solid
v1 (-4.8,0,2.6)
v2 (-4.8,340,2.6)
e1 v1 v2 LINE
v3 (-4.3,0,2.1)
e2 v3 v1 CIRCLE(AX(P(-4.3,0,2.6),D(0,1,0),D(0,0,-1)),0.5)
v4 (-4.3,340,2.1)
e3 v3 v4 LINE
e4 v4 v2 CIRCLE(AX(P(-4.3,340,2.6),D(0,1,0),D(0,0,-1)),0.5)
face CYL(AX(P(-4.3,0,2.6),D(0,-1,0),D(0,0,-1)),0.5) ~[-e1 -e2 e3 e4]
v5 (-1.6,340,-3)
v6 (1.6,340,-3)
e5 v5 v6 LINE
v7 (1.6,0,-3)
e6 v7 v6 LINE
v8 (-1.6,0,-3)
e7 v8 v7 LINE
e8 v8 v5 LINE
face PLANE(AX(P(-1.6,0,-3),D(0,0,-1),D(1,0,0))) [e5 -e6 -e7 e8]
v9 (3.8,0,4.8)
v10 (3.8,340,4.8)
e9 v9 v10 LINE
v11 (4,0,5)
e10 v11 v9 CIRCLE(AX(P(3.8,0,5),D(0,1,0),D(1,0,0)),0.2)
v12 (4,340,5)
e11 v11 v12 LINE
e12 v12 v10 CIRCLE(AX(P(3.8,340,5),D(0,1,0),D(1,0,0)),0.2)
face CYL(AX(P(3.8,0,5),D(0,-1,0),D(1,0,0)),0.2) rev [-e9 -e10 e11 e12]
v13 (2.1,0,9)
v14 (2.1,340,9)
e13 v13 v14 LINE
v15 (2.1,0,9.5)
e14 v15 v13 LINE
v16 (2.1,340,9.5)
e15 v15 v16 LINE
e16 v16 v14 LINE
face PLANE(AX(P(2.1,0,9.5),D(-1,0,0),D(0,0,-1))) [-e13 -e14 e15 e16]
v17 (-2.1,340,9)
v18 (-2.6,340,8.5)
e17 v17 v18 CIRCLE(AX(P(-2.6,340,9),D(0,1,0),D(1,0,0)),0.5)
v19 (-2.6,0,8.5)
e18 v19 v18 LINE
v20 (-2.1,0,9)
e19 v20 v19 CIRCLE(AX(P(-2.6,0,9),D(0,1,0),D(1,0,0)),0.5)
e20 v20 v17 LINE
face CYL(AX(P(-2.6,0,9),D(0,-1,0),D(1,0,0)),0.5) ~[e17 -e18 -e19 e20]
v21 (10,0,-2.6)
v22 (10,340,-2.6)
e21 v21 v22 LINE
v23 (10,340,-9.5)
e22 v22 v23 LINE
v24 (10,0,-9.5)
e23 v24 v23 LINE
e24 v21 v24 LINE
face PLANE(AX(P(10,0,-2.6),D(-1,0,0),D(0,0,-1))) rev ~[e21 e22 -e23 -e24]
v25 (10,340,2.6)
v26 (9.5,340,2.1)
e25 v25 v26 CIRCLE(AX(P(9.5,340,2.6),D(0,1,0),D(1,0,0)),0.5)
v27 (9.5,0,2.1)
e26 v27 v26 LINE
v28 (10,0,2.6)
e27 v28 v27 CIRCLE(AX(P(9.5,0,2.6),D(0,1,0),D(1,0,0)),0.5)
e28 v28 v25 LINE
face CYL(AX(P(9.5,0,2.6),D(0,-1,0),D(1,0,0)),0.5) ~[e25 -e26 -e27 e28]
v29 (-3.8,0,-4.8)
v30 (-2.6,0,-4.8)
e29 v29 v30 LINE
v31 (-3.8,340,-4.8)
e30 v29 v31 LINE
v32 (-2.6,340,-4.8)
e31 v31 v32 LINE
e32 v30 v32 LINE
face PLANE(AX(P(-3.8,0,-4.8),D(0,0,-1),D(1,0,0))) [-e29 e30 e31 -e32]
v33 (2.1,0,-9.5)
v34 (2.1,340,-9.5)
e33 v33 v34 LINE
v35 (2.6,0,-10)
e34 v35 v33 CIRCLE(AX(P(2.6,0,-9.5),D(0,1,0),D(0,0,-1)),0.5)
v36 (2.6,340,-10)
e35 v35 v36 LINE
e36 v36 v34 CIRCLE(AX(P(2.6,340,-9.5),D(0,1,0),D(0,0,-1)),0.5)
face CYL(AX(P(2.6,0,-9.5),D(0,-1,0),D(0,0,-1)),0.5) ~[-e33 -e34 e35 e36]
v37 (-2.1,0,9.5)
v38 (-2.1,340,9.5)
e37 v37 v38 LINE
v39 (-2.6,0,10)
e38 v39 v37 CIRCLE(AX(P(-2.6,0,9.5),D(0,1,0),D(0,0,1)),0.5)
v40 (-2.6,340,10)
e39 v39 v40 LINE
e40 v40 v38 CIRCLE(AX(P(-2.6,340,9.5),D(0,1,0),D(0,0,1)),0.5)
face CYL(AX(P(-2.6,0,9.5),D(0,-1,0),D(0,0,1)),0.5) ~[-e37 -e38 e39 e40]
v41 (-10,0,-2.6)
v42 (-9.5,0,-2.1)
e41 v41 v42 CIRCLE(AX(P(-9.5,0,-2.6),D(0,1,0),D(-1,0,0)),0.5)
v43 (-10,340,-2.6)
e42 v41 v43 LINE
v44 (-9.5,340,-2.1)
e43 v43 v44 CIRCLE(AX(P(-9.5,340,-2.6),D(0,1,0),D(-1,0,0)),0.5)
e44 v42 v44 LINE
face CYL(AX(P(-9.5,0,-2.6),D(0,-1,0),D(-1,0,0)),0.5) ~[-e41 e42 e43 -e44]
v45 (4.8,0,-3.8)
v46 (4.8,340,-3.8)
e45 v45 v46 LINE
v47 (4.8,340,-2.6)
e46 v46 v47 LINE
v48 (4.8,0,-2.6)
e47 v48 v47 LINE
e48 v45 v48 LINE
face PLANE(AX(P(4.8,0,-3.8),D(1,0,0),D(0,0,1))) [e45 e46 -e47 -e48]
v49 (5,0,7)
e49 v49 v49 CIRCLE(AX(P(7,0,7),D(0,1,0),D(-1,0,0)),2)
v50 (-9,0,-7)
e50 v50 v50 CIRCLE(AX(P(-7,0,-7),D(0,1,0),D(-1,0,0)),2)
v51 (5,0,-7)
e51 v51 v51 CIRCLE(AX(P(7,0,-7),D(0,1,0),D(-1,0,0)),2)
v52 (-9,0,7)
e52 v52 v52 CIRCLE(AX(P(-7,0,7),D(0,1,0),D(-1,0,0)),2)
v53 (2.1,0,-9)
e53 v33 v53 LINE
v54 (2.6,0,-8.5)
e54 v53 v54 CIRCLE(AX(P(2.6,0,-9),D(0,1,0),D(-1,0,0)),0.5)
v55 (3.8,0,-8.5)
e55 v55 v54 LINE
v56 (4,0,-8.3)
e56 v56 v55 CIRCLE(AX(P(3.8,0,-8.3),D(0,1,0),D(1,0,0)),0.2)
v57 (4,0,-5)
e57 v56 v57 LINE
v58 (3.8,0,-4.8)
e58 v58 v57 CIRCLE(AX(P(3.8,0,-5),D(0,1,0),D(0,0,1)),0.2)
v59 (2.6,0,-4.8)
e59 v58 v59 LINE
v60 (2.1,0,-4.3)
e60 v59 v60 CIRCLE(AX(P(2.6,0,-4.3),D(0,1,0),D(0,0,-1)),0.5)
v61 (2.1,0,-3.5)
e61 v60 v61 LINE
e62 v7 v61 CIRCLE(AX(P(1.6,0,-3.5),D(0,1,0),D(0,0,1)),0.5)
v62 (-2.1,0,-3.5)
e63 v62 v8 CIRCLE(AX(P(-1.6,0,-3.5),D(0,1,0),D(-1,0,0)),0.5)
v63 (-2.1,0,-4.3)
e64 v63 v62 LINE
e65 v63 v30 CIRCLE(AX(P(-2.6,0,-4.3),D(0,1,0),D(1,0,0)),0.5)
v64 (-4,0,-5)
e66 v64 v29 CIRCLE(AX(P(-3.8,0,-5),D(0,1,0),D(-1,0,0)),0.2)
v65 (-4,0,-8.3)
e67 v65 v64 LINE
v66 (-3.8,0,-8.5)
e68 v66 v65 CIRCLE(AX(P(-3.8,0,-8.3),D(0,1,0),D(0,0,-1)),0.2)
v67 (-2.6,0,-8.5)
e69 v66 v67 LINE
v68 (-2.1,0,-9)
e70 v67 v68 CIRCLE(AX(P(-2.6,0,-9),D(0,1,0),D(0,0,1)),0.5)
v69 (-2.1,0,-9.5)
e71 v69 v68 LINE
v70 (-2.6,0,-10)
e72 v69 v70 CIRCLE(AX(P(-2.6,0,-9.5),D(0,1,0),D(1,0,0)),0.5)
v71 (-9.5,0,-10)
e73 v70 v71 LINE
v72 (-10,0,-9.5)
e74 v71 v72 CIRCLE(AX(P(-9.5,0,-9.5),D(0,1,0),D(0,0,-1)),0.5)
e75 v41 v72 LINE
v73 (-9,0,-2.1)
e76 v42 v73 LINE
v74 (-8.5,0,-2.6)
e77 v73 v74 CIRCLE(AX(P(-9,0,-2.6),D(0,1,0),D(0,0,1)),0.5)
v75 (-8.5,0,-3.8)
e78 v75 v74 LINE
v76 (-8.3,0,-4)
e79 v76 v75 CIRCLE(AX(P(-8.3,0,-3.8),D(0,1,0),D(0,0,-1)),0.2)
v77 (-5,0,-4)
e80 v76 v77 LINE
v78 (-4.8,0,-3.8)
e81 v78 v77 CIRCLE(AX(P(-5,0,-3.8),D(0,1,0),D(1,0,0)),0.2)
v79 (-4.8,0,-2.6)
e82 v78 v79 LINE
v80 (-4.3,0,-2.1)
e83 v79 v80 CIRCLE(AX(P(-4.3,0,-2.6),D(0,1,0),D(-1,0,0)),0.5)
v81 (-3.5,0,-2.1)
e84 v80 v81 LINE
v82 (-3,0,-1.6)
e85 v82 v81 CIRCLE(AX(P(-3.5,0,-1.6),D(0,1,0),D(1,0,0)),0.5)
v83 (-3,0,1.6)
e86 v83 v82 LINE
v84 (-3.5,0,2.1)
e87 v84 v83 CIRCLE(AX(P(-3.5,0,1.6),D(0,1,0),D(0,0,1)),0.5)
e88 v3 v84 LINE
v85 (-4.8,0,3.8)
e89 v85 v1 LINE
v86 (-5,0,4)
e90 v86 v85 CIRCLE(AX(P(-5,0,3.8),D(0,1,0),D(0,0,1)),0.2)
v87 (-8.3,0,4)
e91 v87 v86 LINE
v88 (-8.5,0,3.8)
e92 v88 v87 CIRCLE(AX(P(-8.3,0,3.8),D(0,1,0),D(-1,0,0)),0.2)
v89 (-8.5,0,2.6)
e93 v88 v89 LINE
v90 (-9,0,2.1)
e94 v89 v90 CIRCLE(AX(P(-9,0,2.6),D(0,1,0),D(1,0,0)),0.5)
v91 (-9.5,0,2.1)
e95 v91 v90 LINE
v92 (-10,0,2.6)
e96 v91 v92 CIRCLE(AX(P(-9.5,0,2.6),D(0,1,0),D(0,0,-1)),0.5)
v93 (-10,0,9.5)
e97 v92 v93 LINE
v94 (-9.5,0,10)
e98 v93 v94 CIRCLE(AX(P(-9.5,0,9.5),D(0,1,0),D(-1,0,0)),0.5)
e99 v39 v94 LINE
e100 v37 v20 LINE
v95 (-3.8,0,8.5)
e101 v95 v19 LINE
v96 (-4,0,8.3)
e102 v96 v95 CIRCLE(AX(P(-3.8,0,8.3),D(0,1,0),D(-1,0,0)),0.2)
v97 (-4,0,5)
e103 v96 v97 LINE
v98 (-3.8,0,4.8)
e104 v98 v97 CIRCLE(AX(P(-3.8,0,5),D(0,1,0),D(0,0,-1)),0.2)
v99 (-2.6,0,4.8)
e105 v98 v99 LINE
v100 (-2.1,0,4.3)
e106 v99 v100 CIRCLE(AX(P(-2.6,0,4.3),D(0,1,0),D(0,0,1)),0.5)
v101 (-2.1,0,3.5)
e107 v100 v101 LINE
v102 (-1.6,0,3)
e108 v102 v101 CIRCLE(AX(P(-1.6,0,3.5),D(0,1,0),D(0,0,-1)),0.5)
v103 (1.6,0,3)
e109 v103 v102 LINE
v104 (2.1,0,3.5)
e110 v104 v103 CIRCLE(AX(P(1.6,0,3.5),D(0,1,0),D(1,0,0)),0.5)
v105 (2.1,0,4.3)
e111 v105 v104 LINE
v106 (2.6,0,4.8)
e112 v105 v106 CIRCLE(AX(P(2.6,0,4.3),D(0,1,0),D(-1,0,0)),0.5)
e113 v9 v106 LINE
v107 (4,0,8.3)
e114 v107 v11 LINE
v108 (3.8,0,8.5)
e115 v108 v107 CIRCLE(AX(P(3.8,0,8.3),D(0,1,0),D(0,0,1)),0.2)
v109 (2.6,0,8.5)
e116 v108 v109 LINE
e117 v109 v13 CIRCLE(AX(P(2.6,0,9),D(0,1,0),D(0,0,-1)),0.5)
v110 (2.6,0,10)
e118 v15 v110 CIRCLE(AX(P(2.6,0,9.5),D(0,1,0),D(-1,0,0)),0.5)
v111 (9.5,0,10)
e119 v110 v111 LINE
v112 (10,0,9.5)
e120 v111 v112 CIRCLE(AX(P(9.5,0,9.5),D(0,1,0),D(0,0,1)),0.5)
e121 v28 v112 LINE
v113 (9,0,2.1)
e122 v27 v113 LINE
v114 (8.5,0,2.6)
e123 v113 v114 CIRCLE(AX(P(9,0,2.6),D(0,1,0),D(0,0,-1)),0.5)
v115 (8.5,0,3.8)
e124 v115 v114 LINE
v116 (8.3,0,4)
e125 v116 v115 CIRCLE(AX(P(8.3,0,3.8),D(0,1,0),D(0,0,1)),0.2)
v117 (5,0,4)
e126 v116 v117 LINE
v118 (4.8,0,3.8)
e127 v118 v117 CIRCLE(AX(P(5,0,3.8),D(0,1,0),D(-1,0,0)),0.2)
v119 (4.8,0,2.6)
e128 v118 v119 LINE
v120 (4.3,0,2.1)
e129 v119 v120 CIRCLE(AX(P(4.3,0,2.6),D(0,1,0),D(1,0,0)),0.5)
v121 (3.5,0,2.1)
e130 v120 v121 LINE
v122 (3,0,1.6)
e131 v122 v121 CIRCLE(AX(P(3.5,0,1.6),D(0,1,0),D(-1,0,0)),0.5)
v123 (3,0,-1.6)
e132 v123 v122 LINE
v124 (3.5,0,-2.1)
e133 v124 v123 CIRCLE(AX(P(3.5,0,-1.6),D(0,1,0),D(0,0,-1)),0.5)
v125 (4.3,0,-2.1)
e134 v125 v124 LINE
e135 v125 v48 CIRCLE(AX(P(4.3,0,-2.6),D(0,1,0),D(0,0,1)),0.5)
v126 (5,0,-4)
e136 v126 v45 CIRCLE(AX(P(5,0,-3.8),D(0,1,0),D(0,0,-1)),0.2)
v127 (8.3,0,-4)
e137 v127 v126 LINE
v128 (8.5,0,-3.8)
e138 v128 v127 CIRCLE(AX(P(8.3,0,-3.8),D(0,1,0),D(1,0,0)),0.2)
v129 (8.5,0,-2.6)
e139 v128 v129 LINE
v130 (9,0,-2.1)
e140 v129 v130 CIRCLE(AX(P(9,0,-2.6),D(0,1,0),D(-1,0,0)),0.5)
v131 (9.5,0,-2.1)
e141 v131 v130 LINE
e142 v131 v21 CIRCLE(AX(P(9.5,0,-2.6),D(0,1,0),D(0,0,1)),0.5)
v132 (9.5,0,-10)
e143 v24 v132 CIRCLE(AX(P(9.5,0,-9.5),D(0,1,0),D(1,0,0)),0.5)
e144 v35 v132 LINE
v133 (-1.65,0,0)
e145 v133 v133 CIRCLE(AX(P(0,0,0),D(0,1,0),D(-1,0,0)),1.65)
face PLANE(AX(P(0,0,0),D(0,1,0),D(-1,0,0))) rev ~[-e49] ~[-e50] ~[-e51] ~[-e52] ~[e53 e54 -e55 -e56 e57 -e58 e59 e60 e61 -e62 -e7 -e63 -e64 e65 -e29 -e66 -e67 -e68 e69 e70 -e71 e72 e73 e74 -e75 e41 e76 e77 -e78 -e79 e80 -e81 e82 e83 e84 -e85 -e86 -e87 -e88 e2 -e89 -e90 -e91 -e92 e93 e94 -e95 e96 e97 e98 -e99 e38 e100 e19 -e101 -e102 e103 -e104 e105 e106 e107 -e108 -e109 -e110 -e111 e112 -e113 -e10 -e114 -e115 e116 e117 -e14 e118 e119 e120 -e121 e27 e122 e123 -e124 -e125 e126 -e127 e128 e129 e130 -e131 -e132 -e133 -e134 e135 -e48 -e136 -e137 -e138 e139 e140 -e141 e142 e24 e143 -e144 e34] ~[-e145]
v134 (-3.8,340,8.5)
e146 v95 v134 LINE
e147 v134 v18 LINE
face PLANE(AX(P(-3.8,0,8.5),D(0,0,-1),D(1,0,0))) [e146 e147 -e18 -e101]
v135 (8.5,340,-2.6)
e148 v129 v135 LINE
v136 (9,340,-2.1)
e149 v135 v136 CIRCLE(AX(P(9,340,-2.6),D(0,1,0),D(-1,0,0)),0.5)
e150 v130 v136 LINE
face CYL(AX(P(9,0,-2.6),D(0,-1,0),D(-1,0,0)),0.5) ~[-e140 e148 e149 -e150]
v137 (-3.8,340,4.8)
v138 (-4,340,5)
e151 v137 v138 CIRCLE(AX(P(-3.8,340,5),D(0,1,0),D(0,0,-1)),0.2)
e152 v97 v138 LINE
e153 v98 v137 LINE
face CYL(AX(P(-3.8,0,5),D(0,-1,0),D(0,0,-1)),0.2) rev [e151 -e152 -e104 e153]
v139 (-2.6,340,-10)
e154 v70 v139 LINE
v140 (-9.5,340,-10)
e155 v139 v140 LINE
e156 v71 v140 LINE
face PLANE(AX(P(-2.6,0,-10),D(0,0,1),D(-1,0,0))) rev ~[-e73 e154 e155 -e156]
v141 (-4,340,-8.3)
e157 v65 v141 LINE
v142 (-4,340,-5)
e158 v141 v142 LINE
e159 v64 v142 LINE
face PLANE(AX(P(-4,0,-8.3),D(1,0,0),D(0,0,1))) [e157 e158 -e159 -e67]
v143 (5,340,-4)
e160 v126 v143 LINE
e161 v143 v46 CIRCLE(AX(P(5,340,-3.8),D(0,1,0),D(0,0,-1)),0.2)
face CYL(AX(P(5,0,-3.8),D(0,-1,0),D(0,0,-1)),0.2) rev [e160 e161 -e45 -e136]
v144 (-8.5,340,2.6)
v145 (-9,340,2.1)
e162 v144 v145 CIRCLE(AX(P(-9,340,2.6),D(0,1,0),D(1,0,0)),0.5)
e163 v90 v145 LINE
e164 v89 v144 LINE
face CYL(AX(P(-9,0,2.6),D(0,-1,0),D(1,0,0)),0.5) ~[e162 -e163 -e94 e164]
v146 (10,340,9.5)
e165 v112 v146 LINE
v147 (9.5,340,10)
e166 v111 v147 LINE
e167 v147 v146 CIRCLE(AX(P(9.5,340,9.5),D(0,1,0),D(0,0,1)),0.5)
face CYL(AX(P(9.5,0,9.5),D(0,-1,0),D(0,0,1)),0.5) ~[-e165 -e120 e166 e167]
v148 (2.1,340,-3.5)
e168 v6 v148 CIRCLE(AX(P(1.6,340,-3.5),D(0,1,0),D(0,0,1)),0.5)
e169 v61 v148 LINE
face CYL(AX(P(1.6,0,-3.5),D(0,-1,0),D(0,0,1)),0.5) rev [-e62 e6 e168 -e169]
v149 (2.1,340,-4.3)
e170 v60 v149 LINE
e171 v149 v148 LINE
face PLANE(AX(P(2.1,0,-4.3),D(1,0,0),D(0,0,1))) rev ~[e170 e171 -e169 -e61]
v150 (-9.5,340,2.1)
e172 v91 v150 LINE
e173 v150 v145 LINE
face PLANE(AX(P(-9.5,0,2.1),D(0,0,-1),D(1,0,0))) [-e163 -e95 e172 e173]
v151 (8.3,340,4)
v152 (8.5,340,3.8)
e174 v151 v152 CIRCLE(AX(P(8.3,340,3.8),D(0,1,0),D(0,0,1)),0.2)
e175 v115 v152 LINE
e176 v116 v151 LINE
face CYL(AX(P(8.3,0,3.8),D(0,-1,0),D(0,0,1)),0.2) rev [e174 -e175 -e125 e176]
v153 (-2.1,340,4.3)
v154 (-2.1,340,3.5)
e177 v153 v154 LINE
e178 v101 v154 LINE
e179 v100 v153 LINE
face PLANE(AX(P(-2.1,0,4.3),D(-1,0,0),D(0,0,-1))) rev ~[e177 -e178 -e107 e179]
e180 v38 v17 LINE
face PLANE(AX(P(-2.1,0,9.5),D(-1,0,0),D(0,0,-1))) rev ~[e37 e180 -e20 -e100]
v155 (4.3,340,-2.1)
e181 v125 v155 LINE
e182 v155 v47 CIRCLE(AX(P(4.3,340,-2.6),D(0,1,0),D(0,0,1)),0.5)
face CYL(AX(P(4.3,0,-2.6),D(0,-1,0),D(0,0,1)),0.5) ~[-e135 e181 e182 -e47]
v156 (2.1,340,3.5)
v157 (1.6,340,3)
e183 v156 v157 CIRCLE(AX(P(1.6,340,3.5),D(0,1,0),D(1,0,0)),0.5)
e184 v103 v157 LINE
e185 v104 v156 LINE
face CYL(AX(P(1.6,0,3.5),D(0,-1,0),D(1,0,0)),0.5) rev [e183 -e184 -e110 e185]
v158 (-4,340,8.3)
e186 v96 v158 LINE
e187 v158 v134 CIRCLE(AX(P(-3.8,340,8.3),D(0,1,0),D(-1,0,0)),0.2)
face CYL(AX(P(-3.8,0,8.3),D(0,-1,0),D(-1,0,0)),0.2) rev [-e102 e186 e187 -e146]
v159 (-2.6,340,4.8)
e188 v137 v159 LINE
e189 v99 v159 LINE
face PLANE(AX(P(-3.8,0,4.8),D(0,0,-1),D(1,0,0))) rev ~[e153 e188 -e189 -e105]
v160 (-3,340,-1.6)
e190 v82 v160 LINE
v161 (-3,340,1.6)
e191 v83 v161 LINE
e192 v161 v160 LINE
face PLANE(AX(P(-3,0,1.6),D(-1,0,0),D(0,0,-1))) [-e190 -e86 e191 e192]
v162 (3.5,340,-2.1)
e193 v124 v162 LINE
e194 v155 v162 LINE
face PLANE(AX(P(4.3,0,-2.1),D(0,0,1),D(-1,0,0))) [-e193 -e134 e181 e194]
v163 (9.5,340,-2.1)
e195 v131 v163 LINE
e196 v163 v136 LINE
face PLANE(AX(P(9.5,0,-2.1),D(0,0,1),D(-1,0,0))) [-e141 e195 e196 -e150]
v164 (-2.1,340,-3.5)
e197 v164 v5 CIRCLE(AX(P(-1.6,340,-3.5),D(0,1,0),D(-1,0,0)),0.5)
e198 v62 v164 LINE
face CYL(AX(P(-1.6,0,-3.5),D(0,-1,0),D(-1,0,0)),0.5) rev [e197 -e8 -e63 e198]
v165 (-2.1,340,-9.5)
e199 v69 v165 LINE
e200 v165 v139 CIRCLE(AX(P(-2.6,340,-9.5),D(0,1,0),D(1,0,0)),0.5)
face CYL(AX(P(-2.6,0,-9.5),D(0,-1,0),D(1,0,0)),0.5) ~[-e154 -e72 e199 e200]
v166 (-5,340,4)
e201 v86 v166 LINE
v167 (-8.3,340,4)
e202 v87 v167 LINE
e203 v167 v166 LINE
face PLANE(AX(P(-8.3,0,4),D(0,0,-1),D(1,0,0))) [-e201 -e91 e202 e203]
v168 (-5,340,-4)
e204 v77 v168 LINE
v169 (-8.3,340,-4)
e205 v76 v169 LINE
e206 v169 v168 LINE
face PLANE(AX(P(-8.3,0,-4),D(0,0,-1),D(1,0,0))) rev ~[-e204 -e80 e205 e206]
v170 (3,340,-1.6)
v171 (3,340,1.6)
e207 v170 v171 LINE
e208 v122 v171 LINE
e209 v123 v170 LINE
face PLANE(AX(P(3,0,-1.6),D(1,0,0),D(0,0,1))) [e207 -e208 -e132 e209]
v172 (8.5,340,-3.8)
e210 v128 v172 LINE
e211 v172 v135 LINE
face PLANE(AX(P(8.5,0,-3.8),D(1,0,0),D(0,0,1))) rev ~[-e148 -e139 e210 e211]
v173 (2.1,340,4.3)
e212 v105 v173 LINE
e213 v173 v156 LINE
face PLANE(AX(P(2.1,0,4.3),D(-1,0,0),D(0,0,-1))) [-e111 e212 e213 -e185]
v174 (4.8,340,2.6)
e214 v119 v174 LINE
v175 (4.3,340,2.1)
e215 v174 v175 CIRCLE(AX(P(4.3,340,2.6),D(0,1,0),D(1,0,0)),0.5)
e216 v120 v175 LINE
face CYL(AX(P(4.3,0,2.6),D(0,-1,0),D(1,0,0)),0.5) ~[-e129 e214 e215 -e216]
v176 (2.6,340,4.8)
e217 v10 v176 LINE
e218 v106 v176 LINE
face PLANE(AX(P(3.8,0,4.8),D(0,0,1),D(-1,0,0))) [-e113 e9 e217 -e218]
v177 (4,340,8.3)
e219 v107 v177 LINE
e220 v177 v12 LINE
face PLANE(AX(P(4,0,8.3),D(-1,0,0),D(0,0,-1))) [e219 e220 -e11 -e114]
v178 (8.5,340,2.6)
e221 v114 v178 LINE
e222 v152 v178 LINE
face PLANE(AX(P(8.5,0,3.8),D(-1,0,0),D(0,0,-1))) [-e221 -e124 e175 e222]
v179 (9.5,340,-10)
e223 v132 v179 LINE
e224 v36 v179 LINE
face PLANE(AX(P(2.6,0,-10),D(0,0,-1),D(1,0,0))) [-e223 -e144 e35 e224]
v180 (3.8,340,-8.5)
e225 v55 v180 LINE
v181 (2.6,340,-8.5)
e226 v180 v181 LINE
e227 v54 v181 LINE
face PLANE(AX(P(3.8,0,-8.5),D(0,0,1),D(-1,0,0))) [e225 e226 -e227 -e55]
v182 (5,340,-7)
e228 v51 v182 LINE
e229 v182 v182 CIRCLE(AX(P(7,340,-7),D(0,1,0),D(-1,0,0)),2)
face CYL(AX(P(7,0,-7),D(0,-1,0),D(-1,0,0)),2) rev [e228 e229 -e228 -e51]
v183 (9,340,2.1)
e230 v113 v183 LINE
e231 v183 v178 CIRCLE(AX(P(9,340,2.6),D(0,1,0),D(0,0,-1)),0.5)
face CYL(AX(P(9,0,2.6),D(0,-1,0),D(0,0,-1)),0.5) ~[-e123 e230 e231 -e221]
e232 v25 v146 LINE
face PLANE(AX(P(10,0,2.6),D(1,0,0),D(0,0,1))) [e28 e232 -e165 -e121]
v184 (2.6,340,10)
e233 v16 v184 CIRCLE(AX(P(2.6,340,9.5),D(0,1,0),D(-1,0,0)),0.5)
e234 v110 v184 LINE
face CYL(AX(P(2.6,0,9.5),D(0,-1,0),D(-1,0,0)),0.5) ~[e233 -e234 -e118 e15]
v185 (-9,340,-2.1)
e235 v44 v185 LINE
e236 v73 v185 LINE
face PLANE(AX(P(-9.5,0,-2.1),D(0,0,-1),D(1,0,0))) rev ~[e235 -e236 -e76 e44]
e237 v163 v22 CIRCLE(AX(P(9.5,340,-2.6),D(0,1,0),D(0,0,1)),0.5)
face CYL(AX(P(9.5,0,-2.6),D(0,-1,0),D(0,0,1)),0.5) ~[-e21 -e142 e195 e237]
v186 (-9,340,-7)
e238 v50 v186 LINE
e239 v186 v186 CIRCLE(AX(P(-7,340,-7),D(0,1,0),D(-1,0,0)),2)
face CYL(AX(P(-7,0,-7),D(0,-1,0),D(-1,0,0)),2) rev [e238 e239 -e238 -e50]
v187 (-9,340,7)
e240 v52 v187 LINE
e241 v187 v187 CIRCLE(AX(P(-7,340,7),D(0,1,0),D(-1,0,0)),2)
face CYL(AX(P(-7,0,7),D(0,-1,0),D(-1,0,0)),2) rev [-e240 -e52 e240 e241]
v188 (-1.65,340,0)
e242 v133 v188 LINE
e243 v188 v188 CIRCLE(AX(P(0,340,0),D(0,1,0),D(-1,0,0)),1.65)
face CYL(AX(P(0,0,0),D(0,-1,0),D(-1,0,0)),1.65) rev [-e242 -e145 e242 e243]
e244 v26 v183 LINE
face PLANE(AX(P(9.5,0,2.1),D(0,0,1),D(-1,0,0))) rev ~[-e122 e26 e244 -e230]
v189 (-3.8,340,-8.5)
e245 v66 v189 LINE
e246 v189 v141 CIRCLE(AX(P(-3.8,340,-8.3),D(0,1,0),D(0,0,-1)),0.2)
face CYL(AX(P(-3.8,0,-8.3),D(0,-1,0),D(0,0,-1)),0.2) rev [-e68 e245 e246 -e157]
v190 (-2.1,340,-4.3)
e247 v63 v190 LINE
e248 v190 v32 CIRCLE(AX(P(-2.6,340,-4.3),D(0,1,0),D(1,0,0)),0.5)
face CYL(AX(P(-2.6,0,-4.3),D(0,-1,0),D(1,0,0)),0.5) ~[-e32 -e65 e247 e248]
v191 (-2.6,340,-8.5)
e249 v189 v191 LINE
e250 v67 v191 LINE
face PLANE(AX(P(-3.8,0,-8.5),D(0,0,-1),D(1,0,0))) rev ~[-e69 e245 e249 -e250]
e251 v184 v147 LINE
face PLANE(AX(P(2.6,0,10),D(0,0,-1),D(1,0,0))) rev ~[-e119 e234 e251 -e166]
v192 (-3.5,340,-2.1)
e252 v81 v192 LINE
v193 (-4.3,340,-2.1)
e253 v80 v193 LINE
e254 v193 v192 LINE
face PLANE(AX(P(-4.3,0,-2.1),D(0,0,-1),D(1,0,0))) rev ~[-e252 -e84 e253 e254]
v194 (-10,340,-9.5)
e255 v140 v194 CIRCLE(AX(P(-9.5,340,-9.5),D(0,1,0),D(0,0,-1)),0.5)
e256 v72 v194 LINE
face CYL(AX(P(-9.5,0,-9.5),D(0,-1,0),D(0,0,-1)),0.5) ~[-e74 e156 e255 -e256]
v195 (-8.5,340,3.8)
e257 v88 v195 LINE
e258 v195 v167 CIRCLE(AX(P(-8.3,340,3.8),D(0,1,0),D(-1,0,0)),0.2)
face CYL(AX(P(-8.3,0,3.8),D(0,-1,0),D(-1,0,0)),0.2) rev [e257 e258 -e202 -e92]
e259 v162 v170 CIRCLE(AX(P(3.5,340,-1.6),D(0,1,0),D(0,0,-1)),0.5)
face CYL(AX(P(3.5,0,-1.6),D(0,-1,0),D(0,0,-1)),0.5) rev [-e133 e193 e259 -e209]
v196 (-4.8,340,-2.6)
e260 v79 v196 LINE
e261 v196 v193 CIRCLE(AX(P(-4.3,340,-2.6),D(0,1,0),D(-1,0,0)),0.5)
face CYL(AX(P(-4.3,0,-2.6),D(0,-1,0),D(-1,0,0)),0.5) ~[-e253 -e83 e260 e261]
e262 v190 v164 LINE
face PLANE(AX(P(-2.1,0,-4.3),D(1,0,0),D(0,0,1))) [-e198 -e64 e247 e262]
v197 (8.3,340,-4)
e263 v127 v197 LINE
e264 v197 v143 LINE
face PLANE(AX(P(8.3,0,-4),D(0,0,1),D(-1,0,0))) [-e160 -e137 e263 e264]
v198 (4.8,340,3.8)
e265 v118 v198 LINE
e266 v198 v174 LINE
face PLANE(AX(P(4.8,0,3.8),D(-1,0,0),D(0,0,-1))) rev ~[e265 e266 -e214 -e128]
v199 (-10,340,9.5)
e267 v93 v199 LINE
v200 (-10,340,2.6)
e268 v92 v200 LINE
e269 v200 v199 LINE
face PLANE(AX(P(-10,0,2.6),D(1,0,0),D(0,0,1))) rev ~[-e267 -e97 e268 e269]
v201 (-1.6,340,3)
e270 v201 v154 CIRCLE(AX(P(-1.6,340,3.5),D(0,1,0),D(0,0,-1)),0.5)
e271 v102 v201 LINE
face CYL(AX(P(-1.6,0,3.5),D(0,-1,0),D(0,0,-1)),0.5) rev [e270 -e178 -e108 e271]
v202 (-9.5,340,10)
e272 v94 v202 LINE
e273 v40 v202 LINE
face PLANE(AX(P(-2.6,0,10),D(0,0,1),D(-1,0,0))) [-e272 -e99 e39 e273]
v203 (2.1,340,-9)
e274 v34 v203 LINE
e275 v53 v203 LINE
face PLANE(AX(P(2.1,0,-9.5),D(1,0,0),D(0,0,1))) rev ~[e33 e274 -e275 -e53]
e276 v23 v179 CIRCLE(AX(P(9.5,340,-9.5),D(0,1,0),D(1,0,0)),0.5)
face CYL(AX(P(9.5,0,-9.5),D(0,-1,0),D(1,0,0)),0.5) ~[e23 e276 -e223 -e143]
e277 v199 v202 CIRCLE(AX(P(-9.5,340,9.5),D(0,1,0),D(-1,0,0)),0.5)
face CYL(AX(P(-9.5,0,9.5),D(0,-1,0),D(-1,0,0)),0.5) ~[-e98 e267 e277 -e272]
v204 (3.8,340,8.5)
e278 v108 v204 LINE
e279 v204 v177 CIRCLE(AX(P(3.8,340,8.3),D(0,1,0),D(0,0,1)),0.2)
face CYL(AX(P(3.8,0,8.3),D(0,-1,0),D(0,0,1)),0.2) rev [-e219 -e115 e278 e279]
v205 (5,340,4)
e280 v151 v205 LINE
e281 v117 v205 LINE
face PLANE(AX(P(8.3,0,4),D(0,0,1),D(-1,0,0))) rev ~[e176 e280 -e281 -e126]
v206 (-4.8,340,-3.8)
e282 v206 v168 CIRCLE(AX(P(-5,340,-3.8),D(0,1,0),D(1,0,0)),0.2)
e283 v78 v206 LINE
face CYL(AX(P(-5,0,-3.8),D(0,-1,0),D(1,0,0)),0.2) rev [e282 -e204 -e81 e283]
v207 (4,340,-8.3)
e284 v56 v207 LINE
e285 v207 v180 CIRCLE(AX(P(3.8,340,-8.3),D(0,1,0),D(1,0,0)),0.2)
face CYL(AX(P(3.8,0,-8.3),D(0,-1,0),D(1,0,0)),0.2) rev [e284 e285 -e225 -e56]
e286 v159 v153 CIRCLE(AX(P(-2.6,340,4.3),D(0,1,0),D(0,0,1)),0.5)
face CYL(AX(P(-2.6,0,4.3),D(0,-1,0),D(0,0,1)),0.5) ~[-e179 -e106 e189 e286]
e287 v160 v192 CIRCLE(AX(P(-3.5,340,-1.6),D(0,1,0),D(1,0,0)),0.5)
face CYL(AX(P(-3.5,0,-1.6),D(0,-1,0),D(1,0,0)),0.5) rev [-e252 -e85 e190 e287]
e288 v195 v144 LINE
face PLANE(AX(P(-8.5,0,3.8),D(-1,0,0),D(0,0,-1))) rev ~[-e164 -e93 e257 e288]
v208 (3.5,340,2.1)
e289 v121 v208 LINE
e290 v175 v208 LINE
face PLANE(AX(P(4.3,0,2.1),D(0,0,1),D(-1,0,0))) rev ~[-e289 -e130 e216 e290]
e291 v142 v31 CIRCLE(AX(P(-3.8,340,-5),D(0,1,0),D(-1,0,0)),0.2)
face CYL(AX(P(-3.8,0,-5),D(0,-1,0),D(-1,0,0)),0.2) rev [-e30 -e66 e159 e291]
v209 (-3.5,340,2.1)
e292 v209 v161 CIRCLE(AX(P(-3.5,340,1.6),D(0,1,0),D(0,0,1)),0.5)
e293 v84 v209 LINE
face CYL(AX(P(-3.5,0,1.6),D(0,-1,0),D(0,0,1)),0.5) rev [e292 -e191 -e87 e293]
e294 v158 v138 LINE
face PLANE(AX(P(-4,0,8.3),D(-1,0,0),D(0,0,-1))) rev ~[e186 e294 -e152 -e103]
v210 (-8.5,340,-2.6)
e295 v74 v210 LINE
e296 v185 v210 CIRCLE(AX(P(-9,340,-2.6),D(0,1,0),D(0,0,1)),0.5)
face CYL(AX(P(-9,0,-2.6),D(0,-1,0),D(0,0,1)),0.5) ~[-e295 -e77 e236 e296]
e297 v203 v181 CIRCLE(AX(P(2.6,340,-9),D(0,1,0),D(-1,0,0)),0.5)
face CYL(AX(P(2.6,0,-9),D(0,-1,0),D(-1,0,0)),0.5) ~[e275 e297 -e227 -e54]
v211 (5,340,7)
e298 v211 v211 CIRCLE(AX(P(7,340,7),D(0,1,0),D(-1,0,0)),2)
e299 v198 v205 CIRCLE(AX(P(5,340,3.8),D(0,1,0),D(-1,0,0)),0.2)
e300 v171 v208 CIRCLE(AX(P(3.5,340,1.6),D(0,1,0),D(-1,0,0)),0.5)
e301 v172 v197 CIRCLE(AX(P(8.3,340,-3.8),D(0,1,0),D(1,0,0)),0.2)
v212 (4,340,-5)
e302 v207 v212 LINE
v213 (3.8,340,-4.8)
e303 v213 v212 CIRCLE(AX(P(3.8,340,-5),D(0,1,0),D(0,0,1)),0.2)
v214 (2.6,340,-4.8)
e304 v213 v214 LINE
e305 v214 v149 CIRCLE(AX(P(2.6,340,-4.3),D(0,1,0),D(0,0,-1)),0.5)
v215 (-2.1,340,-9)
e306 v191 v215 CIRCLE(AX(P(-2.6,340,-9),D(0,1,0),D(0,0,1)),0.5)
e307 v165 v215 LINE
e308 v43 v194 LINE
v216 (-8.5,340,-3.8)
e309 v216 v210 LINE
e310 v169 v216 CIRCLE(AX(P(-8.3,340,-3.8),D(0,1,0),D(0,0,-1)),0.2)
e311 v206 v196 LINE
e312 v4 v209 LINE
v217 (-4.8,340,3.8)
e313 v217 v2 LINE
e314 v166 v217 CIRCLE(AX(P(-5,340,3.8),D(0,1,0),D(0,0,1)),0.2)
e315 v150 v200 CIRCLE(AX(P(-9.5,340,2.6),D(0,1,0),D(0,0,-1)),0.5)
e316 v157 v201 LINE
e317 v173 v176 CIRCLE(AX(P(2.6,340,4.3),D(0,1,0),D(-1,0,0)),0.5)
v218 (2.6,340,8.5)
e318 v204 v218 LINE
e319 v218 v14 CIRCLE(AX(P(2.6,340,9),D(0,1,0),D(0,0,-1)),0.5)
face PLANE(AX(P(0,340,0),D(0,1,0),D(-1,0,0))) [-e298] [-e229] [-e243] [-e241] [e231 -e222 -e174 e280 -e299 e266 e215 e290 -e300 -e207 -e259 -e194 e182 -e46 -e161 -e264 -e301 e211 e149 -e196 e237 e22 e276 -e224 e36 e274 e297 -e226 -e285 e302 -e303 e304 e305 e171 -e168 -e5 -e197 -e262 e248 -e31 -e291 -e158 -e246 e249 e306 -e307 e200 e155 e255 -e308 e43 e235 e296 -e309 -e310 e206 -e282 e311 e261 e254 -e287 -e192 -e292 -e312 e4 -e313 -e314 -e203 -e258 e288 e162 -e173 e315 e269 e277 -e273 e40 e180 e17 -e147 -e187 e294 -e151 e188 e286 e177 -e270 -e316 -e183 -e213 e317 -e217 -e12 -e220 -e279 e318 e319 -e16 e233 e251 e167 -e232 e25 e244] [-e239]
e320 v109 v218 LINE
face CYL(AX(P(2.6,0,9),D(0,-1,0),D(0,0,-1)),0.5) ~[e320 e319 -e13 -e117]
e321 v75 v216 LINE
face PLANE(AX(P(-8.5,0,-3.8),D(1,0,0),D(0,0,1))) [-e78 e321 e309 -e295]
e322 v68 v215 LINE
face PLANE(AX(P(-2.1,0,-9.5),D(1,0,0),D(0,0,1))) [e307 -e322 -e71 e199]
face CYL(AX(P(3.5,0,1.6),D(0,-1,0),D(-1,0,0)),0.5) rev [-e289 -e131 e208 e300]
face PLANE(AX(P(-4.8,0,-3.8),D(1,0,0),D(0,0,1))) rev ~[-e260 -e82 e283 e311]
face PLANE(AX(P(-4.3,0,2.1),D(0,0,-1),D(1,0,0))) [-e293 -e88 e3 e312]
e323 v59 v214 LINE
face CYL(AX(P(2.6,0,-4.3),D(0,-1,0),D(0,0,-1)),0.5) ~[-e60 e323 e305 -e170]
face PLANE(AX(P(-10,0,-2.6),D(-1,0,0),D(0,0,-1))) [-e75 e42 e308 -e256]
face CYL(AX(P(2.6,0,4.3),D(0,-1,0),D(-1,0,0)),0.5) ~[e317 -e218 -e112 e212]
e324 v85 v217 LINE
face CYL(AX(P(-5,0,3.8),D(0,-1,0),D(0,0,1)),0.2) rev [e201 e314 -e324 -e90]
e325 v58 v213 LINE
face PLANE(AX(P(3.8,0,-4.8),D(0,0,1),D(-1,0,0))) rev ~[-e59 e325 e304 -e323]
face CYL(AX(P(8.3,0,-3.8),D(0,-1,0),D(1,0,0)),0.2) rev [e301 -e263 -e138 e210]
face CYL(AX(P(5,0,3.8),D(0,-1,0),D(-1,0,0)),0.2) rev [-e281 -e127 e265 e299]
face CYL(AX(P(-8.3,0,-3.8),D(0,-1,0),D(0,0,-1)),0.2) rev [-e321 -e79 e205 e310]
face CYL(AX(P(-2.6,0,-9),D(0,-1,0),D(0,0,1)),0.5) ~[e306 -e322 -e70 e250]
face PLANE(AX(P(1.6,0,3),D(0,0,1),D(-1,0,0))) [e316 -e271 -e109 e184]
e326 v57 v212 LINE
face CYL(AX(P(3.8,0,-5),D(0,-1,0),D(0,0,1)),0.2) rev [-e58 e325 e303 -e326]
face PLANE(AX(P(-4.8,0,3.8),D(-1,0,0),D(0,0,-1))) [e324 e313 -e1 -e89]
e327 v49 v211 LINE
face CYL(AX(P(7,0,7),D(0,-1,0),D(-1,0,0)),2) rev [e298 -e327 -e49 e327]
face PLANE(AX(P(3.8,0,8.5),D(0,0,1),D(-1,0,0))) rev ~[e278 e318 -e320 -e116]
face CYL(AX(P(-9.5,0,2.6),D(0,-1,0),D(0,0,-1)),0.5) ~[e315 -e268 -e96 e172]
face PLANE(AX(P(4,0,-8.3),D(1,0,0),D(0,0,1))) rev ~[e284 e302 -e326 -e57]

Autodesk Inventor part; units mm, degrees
ref_plane "YZ Plane" through (0, 0, 0) normal (1, 0, 0) x (0, 1, 0)
ref_plane "開始平面" through (0, 0, 0) normal (0, 1, 0) x (-1, 0, 0)
ref_plane "終了平面" through (0, 340, 0) normal (0, 1, 0) x (-1, 0, 0)
sketch "スケッチ" plane through (0, 0, 0) normal (0, 1, 0) x (-1, 0, 0)
  line L0 (8.5, -3.8) -> (8.5, -2.6)
  line L1 (4, -8.3) -> (4, -5)
  circle A0 centre (7, -7) radius 2
  line L2 (10, -2.6) -> (10, -9.5)
  line L3 (2.6, -10) -> (9.5, -10)
  line L4 (2.1, -9.5) -> (2.1, -9)
  line L5 (8.5, -2.1) -> (8.5, -4)
  line L6 (3.8, -4.8) -> (2.6, -4.8)
  line L7 (4.8, -3.8) -> (4.8, -2.6)
  arc A1 (2.1, -4.3) -> (2.6, -4.8) centre (2.6, -4.3) ccw
  arc A2 (2.6, -8.5) -> (2.1, -9) centre (2.6, -9) ccw
  arc A3 (3.8, -8.5) -> (4, -8.3) centre (3.8, -8.3) ccw
  arc A4 (4, -5) -> (3.8, -4.8) centre (3.8, -5) ccw
  arc A5 (2.1, -3.5) -> (1.6, -3) centre (1.6, -3.5) ccw
  arc A6 (2.1, -9.5) -> (2.6, -10) centre (2.6, -9.5) ccw
  arc A7 (9.5, -10) -> (10, -9.5) centre (9.5, -9.5) ccw
  arc A8 (10, -2.6) -> (9.5, -2.1) centre (9.5, -2.6) ccw
  arc A9 (9, -2.1) -> (8.5, -2.6) centre (9, -2.6) ccw
  arc A10 (8.3, -4) -> (8.5, -3.8) centre (8.3, -3.8) ccw
  arc A11 (4.8, -3.8) -> (5, -4) centre (5, -3.8) ccw
  line L8 (4.3, -2.1) -> (3.5, -2.1)
  arc A12 (4.8, -2.6) -> (4.3, -2.1) centre (4.3, -2.6) ccw
  arc A13 (3, -1.6) -> (3.5, -2.1) centre (3.5, -1.6) ccw
  line L9 (2.1, -4.3) -> (2.1, -3.5)
  line L10 (3.8, -8.5) -> (2.6, -8.5)
  line L11 (9.5, -2.1) -> (9, -2.1)
  line L12 (8.3, -4) -> (5, -4)
  circle A14 centre (0, 0) radius 1.65
  arc A15 (8.5, 2.6) -> (9, 2.1) centre (9, 2.6) ccw
  line L13 (8.5, 3.8) -> (8.5, 2.6)
  arc A16 (8.5, 3.8) -> (8.3, 4) centre (8.3, 3.8) ccw
  line L14 (8.3, 4) -> (5, 4)
  line L15 (10, 2.6) -> (10, 9.5)
  arc A17 (10, 9.5) -> (9.5, 10) centre (9.5, 9.5) ccw
  circle A18 centre (7, 7) radius 2
  line L16 (4, 8.3) -> (4, 5)
  line L17 (2.6, 10) -> (9.5, 10)
  line L18 (9.5, 2.1) -> (9, 2.1)
  arc A19 (9.5, 2.1) -> (10, 2.6) centre (9.5, 2.6) ccw
  line L19 (3.8, 8.5) -> (2.6, 8.5)
  line L20 (4.8, 3.8) -> (4.8, 2.6)
  arc A20 (4.3, 2.1) -> (4.8, 2.6) centre (4.3, 2.6) ccw
  line L21 (2.1, 8.5) -> (4, 8.5)
  arc A21 (4, 8.3) -> (3.8, 8.5) centre (3.8, 8.3) ccw
  arc A22 (2.1, 9) -> (2.6, 8.5) centre (2.6, 9) ccw
  arc A23 (2.6, 10) -> (2.1, 9.5) centre (2.6, 9.5) ccw
  line L22 (2.1, 9.5) -> (2.1, 9)
  arc A24 (1.6, 3) -> (2.1, 3.5) centre (1.6, 3.5) ccw
  line L23 (3.8, 4.8) -> (2.6, 4.8)
  arc A25 (5, 4) -> (4.8, 3.8) centre (5, 3.8) ccw
  arc A26 (3.8, 4.8) -> (4, 5) centre (3.8, 5) ccw
  line L24 (4.3, 2.1) -> (3.5, 2.1)
  arc A27 (2.6, 4.8) -> (2.1, 4.3) centre (2.6, 4.3) ccw
  line L25 (2.1, 4.3) -> (2.1, 3.5)
  arc A28 (3.5, 2.1) -> (3, 1.6) centre (3.5, 1.6) ccw
  arc A29 (-2.6, 8.5) -> (-2.1, 9) centre (-2.6, 9) ccw
  line L26 (-3.8, 8.5) -> (-2.6, 8.5)
  arc A30 (-3.8, 8.5) -> (-4, 8.3) centre (-3.8, 8.3) ccw
  line L27 (-4, 8.3) -> (-4, 5)
  line L28 (-2.6, 10) -> (-9.5, 10)
  arc A31 (-9.5, 10) -> (-10, 9.5) centre (-9.5, 9.5) ccw
  circle A32 centre (-7, 7) radius 2
  line L29 (-8.3, 4) -> (-5, 4)
  line L30 (-10, 2.6) -> (-10, 9.5)
  line L31 (-2.1, 9.5) -> (-2.1, 9)
  arc A33 (-2.1, 9.5) -> (-2.6, 10) centre (-2.6, 9.5) ccw
  line L32 (-8.5, 3.8) -> (-8.5, 2.6)
  line L33 (-3.8, 4.8) -> (-2.6, 4.8)
  arc A34 (-2.1, 4.3) -> (-2.6, 4.8) centre (-2.6, 4.3) ccw
  line L34 (-8.5, 2.1) -> (-8.5, 4)
  arc A35 (-8.3, 4) -> (-8.5, 3.8) centre (-8.3, 3.8) ccw
  arc A36 (-9, 2.1) -> (-8.5, 2.6) centre (-9, 2.6) ccw
  arc A37 (-10, 2.6) -> (-9.5, 2.1) centre (-9.5, 2.6) ccw
  line L35 (-9.5, 2.1) -> (-9, 2.1)
  arc A38 (-3, 1.6) -> (-3.5, 2.1) centre (-3.5, 1.6) ccw
  line L36 (-4.8, 3.8) -> (-4.8, 2.6)
  arc A39 (-4, 5) -> (-3.8, 4.8) centre (-3.8, 5) ccw
  arc A40 (-4.8, 3.8) -> (-5, 4) centre (-5, 3.8) ccw
  line L37 (-2.1, 4.3) -> (-2.1, 3.5)
  arc A41 (-4.8, 2.6) -> (-4.3, 2.1) centre (-4.3, 2.6) ccw
  line L38 (-4.3, 2.1) -> (-3.5, 2.1)
  arc A42 (-2.1, 3.5) -> (-1.6, 3) centre (-1.6, 3.5) ccw
  arc A43 (-8.5, -2.6) -> (-9, -2.1) centre (-9, -2.6) ccw
  line L39 (-8.5, -3.8) -> (-8.5, -2.6)
  arc A44 (-8.5, -3.8) -> (-8.3, -4) centre (-8.3, -3.8) ccw
  line L40 (-8.3, -4) -> (-5, -4)
  line L41 (-10, -2.6) -> (-10, -9.5)
  arc A45 (-10, -9.5) -> (-9.5, -10) centre (-9.5, -9.5) ccw
  circle A46 centre (-7, -7) radius 2
  line L42 (-4, -8.3) -> (-4, -5)
  line L43 (-2.6, -10) -> (-9.5, -10)
  line L44 (-9.5, -2.1) -> (-9, -2.1)
  arc A47 (-9.5, -2.1) -> (-10, -2.6) centre (-9.5, -2.6) ccw
  line L45 (-3.8, -8.5) -> (-2.6, -8.5)
  line L46 (-4.8, -3.8) -> (-4.8, -2.6)
  arc A48 (-4.3, -2.1) -> (-4.8, -2.6) centre (-4.3, -2.6) ccw
  line L47 (-2.1, -8.5) -> (-4, -8.5)
  arc A49 (-4, -8.3) -> (-3.8, -8.5) centre (-3.8, -8.3) ccw
  arc A50 (-2.1, -9) -> (-2.6, -8.5) centre (-2.6, -9) ccw
  arc A51 (-2.6, -10) -> (-2.1, -9.5) centre (-2.6, -9.5) ccw
  line L48 (-2.1, -9.5) -> (-2.1, -9)
  arc A52 (-1.6, -3) -> (-2.1, -3.5) centre (-1.6, -3.5) ccw
  line L49 (-3.8, -4.8) -> (-2.6, -4.8)
  arc A53 (-5, -4) -> (-4.8, -3.8) centre (-5, -3.8) ccw
  arc A54 (-3.8, -4.8) -> (-4, -5) centre (-3.8, -5) ccw
  line L50 (-4.3, -2.1) -> (-3.5, -2.1)
  arc A55 (-2.6, -4.8) -> (-2.1, -4.3) centre (-2.6, -4.3) ccw
  line L51 (-2.1, -4.3) -> (-2.1, -3.5)
  arc A56 (-3.5, -2.1) -> (-3, -1.6) centre (-3.5, -1.6) ccw
  line L52 (1.6, -3) -> (-1.6, -3)
  line L53 (-3, -1.6) -> (-3, 1.6)
  line L54 (-1.6, 3) -> (1.6, 3)
  line L55 (3, 1.6) -> (3, -1.6)
  point P0 (2.1, -10)
  point P1 (10, 2.1)
  point P2 (-2.1, 10)
  point P3 (-10, -2.1)
  dimension "d12" = 4
  dimension "d14" = 3.7
  dimension "d16" = 0.5
  dimension "d17" = 0.5
  dimension "d18" = 0.2
  dimension "d19" = 0.5
  dimension "d20" = 0.5
  dimension "d24" = 0.5
  dimension "d25" = 0.2
  dimension "d28" = 0.5
  dimension "d31" = 1.5
  dimension "d36" = 3.7
  dimension "d37" = 1.5
  dimension "d58" = 3.3
  dimension "d65" = 10
  dimension "d67" = 2.1
  dimension "d68" = 2.1
  dimension "d69" = 1.9
  dimension "d70" = 7
  dimension "d72" = 2.1
  dimension "d73" = 2.1
  dimension "d74" = 1.9
  dimension "d75" = 7
  dimension "d76" = 10
  dimension "d80" = 360
  dimension "d82" = 3
extrude "ボディ" add sketch "スケッチ" along normal up to surface (340 mm away) from surface at 0
equation "\"G_OFFSET_START\" = 0"
equation "\"G_OFFSET_END\" = 0"
equation "\"G_L\" = d90"
equation "\"d90\" = 330"
properties part number "s340" material "アルミニウム 6061"
